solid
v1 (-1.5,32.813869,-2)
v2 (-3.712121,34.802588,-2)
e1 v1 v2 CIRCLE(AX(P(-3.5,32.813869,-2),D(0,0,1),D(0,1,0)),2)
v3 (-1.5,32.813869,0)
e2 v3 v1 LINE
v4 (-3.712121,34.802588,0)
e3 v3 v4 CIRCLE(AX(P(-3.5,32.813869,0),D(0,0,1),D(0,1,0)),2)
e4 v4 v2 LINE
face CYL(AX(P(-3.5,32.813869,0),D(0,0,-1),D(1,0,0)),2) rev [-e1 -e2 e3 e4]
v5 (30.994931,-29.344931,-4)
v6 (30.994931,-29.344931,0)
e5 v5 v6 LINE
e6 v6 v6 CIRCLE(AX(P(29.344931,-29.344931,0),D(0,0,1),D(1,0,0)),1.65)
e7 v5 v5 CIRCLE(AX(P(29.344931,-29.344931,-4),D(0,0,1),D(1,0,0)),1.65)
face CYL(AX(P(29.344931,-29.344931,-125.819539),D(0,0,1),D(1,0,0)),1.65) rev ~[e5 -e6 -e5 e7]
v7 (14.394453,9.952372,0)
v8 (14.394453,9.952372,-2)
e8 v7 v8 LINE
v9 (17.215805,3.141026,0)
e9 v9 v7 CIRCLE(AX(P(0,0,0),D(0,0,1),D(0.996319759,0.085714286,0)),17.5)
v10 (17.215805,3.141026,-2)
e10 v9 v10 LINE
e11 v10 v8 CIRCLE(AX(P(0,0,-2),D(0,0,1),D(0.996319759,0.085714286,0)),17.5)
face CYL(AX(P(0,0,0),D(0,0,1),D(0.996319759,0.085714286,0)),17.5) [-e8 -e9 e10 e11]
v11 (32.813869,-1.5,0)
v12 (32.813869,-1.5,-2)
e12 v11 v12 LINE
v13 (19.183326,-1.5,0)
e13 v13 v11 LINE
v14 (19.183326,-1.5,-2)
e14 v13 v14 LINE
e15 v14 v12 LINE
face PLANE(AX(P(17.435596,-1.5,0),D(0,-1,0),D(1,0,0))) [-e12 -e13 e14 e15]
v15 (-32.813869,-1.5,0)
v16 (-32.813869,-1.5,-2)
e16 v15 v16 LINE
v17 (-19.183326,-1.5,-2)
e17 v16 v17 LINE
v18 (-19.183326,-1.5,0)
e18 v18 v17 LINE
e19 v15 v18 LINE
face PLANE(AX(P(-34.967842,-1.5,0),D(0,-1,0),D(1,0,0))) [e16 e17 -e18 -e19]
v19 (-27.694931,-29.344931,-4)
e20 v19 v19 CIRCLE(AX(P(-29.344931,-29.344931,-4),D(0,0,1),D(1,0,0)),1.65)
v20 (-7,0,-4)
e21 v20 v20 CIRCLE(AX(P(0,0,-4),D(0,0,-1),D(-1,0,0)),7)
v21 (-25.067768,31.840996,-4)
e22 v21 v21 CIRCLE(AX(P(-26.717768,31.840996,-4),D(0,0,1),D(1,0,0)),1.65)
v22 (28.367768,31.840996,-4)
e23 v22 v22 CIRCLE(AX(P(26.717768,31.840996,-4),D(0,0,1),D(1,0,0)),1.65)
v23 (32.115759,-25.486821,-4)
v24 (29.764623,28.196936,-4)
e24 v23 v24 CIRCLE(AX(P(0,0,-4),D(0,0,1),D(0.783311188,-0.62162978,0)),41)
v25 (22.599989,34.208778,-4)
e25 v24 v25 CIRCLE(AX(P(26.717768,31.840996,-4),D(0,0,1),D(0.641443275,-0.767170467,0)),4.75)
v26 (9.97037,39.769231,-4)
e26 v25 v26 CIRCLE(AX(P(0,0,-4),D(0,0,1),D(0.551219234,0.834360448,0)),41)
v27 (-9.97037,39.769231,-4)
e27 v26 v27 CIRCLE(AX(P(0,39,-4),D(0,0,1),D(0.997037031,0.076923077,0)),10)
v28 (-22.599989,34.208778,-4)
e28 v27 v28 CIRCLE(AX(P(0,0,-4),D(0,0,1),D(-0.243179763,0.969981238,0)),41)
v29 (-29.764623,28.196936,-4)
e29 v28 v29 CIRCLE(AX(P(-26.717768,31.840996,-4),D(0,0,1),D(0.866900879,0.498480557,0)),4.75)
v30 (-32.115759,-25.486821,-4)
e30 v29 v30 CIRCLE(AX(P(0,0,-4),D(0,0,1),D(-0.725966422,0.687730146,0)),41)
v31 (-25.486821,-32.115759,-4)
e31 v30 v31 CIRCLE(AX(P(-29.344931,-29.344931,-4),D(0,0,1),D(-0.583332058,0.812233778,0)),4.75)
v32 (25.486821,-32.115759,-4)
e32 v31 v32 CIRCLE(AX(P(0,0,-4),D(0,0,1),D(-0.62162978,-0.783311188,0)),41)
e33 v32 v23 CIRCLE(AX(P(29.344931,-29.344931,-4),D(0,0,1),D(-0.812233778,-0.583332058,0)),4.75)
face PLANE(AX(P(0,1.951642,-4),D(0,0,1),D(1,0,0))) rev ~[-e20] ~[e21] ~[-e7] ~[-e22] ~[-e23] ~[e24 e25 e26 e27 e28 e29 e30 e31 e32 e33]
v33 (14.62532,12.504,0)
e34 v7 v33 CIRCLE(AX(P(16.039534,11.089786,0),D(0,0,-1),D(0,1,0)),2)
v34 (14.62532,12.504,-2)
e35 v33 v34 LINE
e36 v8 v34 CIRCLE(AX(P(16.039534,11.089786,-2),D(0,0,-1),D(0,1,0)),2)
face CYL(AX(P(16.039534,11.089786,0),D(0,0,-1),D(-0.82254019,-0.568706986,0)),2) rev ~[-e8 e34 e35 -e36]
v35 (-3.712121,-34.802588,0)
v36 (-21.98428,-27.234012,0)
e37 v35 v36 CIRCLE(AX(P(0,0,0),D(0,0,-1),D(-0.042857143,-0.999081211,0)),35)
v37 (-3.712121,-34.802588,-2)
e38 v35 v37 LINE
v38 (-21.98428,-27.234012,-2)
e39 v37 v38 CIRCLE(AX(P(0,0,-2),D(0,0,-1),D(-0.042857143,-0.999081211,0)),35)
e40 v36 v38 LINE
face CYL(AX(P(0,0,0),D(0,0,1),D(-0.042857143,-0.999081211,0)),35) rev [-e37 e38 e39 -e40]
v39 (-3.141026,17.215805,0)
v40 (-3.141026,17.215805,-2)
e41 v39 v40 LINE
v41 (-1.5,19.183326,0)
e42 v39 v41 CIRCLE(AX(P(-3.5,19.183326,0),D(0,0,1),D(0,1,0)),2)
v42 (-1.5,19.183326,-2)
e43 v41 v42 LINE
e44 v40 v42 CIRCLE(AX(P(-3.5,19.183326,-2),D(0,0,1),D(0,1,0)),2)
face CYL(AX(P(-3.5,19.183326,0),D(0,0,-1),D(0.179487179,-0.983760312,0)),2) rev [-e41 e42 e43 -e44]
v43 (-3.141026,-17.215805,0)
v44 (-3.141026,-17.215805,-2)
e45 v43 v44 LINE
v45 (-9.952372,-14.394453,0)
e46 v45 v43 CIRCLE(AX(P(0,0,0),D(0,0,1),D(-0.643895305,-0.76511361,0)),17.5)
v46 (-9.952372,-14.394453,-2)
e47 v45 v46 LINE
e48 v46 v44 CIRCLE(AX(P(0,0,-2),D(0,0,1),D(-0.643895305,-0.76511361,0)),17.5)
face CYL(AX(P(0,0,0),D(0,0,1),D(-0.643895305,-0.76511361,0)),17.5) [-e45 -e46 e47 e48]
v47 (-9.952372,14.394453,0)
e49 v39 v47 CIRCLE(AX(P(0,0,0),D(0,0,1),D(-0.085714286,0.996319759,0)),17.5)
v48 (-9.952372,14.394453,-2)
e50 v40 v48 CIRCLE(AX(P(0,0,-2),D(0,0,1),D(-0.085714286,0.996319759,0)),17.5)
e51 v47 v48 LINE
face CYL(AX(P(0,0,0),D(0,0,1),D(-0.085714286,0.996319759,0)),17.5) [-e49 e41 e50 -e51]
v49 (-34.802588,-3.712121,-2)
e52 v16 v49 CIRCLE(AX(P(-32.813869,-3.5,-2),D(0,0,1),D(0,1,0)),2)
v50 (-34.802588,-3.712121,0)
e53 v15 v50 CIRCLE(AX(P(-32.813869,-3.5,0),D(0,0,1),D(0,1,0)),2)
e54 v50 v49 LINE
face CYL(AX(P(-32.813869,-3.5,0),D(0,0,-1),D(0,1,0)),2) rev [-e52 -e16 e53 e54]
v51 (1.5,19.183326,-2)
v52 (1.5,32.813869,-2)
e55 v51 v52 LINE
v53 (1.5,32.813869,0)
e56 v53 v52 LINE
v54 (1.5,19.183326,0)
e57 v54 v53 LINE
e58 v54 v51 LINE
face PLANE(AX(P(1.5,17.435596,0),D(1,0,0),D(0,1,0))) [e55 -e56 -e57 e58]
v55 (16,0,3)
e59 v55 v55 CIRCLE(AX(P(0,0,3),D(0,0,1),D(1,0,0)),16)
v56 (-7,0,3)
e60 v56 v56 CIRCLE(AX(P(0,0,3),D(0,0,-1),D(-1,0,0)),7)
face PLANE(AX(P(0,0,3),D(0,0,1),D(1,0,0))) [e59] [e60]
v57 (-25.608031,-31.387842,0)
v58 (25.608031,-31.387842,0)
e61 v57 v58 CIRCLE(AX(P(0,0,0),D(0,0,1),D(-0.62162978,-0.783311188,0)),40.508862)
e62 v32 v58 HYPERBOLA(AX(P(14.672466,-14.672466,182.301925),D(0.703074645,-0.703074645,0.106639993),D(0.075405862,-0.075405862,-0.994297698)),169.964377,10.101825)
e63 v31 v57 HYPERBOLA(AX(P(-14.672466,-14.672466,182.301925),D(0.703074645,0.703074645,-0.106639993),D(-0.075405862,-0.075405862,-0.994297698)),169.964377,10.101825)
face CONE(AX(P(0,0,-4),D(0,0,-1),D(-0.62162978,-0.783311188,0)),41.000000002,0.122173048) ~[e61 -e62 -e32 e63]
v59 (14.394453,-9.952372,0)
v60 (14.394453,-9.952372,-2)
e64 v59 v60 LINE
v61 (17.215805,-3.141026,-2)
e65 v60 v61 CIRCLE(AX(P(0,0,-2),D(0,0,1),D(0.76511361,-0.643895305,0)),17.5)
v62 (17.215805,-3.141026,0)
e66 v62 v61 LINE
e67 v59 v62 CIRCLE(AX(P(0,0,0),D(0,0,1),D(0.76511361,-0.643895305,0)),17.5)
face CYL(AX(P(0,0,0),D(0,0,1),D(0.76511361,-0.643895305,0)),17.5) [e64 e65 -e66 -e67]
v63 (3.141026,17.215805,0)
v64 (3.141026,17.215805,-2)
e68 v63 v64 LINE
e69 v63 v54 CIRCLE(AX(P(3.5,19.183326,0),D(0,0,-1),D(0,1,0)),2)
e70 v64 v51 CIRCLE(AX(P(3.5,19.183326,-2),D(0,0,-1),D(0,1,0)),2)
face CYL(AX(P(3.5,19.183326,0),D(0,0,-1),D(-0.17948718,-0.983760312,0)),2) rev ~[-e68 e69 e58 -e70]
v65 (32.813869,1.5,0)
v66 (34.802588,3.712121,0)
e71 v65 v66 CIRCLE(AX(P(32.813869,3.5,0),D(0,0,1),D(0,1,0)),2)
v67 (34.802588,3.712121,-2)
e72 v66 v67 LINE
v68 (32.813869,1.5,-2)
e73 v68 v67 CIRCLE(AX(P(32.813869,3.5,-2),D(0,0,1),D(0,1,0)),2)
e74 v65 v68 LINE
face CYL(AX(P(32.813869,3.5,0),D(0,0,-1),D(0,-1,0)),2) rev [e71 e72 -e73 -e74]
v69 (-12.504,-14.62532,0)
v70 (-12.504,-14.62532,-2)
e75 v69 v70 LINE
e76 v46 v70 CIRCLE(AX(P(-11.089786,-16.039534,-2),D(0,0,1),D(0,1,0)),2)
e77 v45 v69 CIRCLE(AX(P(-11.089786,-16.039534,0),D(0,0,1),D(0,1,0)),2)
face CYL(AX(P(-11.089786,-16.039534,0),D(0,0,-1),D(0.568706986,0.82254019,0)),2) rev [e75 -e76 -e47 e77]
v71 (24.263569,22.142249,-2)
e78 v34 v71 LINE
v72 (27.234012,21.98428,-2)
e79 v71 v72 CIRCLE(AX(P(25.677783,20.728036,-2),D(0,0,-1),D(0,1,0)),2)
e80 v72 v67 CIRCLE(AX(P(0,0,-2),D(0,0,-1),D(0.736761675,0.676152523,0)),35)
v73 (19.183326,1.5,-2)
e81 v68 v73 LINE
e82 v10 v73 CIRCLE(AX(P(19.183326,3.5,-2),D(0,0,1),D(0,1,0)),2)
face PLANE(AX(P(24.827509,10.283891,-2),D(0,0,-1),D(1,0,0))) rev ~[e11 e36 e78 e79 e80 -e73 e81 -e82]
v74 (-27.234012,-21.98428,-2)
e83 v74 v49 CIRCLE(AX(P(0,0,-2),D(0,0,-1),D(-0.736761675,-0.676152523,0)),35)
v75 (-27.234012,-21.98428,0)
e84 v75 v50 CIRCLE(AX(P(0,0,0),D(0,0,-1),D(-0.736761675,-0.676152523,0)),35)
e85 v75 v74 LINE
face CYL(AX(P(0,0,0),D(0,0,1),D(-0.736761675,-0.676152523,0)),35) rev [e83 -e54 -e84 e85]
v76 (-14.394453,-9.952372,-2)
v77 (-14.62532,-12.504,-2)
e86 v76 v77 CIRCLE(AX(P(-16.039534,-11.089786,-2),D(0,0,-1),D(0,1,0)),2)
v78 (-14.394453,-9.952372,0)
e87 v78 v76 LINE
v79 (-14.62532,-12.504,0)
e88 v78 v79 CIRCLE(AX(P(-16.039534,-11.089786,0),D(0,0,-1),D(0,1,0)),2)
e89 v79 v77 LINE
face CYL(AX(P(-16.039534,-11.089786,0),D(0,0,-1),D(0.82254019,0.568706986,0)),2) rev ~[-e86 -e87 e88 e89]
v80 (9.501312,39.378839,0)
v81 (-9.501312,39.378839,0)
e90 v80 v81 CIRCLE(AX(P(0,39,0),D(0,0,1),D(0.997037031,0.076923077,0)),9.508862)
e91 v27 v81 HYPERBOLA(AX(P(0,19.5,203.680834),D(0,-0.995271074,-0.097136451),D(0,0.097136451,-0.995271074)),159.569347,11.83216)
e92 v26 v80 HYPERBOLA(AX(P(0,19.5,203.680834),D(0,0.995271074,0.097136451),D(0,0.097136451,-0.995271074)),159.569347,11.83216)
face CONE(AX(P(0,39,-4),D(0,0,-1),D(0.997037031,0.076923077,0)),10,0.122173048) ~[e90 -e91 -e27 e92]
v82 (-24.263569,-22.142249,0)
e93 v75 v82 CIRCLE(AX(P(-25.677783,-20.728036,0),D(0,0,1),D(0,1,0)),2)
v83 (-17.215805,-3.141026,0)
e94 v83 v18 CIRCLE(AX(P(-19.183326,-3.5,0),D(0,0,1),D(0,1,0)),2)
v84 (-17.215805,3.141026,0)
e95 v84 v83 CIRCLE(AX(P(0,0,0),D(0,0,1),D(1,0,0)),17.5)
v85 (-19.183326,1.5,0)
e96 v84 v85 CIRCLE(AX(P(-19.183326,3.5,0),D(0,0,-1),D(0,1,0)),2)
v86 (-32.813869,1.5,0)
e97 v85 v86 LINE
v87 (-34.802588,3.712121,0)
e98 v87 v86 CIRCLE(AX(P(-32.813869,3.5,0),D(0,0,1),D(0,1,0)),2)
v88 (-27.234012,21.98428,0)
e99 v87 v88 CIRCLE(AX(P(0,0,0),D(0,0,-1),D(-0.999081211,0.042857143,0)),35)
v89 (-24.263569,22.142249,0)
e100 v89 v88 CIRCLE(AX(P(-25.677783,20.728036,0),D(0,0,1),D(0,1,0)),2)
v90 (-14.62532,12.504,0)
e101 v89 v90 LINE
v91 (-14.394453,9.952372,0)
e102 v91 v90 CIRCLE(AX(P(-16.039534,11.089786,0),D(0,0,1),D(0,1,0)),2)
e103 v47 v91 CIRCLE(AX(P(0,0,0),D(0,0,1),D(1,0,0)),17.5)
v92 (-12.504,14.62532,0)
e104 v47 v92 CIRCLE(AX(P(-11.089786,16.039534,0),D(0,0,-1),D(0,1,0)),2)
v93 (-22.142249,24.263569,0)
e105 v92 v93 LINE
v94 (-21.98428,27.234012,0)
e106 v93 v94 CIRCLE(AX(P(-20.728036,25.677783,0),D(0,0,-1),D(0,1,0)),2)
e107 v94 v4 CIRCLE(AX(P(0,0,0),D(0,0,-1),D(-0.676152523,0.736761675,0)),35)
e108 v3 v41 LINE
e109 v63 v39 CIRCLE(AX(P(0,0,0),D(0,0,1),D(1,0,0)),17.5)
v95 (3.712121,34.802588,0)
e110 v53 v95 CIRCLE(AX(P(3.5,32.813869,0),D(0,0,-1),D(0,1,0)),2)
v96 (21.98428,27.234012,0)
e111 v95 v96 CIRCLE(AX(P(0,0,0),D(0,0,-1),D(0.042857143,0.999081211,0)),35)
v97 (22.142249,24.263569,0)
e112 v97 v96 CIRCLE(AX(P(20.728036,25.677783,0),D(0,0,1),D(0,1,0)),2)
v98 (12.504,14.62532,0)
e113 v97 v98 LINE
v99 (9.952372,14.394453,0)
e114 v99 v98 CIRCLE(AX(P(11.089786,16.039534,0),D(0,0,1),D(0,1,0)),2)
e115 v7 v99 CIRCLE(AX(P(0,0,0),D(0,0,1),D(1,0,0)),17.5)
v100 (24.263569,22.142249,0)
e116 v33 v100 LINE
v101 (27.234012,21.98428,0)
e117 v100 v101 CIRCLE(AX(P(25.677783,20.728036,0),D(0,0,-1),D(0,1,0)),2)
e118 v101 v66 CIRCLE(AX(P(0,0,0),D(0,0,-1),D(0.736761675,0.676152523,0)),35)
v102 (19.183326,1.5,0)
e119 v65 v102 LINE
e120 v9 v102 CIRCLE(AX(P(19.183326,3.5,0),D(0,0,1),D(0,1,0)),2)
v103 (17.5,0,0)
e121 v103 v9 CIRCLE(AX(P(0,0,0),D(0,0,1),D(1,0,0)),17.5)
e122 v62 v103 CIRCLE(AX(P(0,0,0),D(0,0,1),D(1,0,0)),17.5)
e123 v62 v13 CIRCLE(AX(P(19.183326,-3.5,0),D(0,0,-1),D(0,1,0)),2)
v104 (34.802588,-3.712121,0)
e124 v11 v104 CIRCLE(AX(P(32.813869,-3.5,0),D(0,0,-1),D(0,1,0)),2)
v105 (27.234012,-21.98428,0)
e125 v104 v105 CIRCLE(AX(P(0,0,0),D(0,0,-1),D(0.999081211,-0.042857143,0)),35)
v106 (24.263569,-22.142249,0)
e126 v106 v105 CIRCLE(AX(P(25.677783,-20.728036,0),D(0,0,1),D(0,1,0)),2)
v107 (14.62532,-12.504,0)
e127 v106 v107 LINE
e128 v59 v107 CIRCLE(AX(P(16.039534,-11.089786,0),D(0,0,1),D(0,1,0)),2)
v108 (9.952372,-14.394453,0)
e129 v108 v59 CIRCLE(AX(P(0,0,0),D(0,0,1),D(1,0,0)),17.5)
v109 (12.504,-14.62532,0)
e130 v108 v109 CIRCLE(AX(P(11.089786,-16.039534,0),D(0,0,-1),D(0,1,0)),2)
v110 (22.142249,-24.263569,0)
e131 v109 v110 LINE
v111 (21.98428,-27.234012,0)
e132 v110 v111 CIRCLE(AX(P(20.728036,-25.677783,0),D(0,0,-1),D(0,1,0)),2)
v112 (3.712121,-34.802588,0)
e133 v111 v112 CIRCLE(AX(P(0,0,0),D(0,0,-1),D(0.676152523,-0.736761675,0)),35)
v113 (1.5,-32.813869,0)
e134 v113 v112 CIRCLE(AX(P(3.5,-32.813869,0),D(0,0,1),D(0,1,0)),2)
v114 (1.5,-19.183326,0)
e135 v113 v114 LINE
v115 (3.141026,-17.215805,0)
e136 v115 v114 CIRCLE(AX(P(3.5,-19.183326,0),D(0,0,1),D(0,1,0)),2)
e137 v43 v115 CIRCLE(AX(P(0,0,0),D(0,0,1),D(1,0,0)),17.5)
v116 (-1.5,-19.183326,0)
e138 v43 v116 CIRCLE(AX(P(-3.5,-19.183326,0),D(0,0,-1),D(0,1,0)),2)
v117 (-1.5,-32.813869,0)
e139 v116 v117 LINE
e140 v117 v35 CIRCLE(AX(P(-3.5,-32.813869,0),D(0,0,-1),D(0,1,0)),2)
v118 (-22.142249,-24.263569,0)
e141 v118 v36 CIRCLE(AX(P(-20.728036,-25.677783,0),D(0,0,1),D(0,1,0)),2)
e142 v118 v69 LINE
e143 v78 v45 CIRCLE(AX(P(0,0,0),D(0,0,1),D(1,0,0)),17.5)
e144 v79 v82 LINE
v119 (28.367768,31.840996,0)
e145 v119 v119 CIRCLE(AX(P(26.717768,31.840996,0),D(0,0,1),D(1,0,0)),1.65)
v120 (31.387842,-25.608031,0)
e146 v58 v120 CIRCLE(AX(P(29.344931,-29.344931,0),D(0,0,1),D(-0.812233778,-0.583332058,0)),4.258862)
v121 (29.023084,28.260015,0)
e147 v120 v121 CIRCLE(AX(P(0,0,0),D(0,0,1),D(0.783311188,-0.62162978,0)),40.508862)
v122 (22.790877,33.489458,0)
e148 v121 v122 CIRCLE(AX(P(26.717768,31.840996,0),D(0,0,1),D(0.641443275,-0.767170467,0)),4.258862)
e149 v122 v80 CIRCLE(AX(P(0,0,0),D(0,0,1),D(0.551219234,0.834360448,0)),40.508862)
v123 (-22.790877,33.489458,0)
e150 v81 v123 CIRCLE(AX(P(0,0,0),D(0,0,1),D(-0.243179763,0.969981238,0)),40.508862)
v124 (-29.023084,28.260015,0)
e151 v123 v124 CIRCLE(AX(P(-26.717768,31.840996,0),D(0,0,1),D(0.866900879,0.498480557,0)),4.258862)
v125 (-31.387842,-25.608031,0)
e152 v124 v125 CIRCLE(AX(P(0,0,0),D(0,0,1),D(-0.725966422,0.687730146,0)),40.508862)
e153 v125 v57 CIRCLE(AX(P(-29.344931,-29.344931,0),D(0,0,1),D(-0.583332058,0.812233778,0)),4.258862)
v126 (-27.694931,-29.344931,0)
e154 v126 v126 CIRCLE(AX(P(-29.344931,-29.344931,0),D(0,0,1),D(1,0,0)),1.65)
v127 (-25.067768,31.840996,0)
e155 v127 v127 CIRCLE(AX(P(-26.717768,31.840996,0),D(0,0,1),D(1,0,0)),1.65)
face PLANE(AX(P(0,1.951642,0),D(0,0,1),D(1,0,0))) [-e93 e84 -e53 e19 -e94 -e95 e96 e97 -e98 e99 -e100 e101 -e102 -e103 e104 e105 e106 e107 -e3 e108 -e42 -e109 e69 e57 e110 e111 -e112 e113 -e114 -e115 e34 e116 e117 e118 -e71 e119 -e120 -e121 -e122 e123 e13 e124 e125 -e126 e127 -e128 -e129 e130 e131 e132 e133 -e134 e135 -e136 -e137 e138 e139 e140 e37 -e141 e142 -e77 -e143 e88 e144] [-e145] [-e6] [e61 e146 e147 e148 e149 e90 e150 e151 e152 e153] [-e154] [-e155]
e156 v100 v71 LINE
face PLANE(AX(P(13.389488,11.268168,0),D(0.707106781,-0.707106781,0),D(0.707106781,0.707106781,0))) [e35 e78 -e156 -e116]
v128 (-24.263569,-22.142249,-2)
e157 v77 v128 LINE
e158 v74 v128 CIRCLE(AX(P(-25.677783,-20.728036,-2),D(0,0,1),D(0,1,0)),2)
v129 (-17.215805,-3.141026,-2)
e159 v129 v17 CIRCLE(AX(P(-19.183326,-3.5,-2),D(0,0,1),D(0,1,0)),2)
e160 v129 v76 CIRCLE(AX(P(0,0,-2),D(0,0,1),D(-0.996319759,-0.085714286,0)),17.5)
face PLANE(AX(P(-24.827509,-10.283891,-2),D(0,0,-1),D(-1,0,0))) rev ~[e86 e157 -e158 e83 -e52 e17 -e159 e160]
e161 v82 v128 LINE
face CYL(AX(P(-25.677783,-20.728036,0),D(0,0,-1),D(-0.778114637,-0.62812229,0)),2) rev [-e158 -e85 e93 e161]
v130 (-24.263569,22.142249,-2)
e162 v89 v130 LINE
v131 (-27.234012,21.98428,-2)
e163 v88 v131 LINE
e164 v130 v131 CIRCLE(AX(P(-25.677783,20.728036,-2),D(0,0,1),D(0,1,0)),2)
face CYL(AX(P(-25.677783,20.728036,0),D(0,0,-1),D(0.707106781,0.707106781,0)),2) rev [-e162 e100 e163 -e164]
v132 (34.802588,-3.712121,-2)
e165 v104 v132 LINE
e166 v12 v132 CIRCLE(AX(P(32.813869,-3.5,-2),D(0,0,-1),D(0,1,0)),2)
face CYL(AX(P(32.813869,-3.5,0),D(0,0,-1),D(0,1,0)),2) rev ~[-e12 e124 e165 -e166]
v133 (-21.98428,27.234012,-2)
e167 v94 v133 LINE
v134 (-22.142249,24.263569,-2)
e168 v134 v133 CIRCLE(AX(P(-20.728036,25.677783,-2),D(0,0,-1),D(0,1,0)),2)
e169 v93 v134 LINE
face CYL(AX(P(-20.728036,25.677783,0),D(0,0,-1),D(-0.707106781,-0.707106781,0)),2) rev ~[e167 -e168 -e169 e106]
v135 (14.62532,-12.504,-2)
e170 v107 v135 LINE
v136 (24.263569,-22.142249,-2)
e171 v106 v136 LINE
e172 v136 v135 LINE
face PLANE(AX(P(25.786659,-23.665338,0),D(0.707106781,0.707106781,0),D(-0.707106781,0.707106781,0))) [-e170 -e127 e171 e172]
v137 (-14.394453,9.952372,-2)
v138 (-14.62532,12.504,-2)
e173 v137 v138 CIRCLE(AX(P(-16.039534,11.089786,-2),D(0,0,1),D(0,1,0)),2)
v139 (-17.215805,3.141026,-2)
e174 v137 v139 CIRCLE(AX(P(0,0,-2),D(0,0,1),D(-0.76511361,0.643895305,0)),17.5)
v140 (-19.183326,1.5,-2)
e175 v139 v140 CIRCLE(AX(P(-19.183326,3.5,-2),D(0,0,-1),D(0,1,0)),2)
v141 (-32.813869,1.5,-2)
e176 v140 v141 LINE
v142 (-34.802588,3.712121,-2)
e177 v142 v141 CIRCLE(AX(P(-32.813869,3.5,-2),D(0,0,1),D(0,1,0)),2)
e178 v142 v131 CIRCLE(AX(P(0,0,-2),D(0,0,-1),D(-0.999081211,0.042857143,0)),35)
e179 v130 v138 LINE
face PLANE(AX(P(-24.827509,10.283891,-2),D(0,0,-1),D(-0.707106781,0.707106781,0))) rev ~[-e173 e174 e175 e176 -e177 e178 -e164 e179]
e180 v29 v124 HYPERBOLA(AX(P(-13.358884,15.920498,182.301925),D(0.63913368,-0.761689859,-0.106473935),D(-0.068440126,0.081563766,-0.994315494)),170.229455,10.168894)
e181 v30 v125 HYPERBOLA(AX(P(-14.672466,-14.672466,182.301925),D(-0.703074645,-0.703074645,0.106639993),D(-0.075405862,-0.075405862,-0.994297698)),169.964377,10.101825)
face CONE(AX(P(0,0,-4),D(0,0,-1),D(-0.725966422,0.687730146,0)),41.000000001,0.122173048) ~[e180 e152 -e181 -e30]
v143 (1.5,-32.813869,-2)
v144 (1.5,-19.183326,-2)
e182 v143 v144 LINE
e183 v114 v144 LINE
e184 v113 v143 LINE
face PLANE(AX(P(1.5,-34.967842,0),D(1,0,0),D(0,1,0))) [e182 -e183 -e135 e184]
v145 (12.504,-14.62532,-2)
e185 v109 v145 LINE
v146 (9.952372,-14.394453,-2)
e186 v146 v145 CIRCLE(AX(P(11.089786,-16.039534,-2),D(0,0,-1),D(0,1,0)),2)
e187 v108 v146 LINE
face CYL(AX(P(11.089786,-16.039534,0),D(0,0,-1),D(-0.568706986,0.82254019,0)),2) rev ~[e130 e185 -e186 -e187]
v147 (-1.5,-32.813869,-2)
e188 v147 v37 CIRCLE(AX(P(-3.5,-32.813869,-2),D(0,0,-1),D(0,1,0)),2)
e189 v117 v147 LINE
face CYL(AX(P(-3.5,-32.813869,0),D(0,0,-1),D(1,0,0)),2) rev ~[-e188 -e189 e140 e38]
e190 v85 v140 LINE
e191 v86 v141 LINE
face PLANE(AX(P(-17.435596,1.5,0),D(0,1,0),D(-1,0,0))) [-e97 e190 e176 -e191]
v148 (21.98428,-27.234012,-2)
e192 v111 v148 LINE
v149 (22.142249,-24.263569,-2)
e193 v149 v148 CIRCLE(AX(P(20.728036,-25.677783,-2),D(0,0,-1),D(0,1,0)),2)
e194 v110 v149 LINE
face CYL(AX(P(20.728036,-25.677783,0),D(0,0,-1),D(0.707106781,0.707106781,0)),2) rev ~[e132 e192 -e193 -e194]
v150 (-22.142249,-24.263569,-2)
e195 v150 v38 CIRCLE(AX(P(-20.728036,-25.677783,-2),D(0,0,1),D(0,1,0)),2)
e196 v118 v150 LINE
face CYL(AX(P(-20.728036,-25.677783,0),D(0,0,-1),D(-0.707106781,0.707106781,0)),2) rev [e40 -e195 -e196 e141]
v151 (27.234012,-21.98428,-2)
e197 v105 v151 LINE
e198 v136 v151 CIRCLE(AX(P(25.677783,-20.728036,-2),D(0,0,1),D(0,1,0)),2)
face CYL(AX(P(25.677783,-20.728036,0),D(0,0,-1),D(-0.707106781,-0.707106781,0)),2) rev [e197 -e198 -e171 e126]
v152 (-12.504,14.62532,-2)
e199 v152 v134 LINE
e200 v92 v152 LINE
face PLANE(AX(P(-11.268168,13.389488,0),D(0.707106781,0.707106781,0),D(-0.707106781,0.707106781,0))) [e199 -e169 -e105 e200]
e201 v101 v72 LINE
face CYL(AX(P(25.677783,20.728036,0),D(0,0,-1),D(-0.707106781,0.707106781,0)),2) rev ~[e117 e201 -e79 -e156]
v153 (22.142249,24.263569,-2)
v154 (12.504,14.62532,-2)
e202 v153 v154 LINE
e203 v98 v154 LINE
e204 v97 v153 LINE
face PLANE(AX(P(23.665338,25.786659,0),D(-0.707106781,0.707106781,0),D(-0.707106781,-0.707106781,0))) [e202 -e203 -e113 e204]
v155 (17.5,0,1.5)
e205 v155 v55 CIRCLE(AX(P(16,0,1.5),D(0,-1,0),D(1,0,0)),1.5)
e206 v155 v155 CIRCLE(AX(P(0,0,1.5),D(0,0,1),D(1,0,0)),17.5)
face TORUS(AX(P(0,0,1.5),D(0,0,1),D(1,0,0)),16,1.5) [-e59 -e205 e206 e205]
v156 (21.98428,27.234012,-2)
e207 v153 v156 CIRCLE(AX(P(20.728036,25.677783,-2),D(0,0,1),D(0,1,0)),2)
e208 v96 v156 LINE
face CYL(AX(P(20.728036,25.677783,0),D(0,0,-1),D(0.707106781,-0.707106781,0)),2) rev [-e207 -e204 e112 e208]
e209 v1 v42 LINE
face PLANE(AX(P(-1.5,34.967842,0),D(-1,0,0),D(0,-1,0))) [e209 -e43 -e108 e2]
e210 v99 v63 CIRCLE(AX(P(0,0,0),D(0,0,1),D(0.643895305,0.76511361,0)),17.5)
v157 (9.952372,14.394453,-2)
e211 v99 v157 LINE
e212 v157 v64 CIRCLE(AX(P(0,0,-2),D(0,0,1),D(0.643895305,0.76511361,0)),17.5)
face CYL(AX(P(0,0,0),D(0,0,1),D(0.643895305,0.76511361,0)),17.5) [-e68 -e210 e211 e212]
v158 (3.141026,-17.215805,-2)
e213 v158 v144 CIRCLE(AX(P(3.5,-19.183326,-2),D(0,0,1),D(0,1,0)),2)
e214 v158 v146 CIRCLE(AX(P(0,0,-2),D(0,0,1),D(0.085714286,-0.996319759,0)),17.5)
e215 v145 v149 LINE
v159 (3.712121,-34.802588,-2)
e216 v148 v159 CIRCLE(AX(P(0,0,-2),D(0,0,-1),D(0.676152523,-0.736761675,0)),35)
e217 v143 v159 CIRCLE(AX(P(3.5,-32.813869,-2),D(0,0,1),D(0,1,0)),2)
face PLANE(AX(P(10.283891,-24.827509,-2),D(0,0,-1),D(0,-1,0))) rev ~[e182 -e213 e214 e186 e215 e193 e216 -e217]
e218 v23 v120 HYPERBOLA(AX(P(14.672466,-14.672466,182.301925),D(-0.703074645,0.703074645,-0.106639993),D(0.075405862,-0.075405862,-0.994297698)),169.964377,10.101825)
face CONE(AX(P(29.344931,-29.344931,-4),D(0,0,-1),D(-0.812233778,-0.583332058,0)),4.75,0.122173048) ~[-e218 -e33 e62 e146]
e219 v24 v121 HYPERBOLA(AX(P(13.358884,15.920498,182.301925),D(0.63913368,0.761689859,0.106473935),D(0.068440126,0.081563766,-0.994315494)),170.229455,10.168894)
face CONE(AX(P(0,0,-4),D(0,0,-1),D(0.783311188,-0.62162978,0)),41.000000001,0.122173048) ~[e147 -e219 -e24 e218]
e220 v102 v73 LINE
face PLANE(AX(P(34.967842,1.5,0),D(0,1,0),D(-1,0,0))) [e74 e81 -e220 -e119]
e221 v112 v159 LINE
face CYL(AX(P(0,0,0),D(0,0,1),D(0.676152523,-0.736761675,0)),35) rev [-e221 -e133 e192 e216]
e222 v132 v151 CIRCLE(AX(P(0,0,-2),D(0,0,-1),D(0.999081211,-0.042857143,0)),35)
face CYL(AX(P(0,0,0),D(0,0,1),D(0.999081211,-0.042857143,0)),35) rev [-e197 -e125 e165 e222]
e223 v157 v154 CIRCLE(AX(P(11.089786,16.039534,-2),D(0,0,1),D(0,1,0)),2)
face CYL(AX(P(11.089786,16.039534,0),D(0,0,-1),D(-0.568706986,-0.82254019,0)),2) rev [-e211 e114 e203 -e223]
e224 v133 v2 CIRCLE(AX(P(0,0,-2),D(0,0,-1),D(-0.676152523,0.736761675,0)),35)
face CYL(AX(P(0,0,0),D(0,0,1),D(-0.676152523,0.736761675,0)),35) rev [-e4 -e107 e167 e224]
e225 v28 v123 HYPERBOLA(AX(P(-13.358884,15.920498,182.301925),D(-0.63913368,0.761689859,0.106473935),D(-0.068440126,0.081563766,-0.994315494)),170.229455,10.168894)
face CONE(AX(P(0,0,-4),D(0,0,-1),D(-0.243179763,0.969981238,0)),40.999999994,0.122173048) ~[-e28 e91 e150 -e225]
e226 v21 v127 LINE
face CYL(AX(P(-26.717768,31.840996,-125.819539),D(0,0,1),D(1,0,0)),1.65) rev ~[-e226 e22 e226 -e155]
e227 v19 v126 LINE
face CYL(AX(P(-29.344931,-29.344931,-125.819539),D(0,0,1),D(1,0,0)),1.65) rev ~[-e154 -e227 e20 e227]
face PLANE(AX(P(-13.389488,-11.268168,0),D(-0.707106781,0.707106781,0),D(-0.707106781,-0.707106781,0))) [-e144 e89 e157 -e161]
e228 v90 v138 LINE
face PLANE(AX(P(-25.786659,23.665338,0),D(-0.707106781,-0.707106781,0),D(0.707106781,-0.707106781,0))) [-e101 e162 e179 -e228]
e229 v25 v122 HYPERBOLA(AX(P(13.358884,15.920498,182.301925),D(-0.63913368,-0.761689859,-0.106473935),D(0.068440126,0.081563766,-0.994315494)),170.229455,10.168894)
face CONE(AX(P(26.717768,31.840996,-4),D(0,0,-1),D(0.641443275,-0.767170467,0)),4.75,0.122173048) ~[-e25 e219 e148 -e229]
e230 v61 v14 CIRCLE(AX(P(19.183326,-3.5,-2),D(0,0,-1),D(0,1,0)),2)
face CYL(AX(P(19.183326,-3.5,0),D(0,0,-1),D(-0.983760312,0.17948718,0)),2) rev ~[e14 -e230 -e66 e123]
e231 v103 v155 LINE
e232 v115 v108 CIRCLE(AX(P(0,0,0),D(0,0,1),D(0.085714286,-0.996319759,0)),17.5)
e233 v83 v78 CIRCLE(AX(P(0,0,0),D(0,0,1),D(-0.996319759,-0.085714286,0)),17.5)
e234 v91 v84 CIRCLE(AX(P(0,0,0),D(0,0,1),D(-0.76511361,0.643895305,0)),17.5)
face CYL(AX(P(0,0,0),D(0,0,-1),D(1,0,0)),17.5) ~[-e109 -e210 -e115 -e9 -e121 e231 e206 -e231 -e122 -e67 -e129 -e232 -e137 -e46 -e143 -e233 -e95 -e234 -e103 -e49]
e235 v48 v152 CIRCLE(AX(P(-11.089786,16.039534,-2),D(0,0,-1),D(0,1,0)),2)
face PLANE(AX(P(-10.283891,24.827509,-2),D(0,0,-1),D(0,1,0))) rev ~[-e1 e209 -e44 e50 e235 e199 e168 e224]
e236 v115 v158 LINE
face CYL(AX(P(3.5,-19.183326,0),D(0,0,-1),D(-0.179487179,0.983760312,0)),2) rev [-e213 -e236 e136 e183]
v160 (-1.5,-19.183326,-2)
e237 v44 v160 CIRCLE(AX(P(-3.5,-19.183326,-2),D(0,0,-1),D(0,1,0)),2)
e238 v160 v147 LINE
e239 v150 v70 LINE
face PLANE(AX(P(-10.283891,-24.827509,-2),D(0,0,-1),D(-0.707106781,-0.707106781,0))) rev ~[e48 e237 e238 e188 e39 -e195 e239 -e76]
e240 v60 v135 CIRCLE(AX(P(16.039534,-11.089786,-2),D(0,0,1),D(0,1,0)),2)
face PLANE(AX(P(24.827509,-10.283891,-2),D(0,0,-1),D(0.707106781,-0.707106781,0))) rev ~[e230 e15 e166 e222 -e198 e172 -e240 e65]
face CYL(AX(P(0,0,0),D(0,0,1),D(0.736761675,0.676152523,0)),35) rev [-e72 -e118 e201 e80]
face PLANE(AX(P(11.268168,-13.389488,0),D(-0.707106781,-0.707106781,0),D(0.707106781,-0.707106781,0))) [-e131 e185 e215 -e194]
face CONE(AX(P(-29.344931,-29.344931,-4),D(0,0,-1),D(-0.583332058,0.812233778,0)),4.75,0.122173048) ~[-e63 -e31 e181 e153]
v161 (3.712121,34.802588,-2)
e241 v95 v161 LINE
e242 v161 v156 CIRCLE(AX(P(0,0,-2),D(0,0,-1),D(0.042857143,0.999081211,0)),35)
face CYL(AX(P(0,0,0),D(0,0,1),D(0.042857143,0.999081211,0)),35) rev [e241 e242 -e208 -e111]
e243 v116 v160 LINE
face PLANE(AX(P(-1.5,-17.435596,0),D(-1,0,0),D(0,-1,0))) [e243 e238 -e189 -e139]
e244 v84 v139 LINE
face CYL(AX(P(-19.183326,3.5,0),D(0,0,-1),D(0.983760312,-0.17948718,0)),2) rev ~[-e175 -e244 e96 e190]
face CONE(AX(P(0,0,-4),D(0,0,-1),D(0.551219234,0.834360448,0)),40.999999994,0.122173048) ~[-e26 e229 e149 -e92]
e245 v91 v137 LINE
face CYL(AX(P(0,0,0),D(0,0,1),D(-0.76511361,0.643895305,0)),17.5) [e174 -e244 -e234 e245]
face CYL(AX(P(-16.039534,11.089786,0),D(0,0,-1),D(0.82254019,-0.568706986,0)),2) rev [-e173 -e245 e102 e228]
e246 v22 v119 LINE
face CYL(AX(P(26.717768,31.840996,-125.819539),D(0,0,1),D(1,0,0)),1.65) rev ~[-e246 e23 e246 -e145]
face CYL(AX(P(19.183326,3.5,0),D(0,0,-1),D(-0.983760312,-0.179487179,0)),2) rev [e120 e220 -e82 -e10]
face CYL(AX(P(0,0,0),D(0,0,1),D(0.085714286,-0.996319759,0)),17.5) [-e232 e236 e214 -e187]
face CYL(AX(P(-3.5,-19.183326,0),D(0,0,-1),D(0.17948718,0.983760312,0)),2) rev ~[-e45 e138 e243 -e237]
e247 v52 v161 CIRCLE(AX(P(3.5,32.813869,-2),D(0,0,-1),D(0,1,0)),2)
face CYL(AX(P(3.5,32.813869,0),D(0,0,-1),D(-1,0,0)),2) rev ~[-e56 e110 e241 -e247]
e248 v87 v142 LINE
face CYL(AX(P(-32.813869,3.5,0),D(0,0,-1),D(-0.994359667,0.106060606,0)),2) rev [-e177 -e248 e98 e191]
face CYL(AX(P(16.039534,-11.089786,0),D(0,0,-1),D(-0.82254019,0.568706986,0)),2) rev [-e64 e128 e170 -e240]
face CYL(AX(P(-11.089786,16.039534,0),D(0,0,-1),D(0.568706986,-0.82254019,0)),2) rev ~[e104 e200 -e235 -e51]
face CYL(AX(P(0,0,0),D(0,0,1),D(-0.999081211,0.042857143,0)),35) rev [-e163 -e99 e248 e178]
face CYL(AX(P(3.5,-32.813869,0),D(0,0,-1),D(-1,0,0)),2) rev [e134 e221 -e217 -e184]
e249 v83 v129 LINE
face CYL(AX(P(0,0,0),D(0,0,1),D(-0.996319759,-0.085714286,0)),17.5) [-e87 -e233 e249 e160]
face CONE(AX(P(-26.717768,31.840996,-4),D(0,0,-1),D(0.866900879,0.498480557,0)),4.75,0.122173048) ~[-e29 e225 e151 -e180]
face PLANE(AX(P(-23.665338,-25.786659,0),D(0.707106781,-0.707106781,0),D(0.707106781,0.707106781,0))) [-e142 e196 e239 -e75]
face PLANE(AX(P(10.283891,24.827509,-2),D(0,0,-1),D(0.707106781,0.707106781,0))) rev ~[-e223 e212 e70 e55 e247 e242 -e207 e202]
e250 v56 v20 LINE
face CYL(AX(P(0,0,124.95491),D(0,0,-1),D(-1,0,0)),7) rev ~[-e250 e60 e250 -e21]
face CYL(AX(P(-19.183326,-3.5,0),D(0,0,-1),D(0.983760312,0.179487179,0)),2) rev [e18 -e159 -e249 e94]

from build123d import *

# Parameters (mm, degrees)
BOSS_EXTRUDE1_START        = -4
BOSS_EXTRUDE1_DEPTH        = 4
BOSS_EXTRUDE1_DRAFT        = 7
CUT_EXTRUDE1_DEPTH         = 2
FILLET1_R                  = 2
CIRPATTERN1_COUNT          = 8
FILLET1_OF_CIRPATTERN1_R   = 2
M4X0_7_TAPPED_HOLE1_D      = 3.3
SKETCH9_R                  = 17.5
BOSS_EXTRUDE2_DEPTH        = 3
FILLET2_R                  = 1.5
F_14_0_14_DIAMETER_HOLE1_D = 14


with BuildPart() as part:
    # Sketch2 → Boss-Extrude1 (with draft: the straight prism first)
    with BuildSketch(Plane.XY.offset(BOSS_EXTRUDE1_START)):
        with BuildLine():
            ThreePointArc((-22.599988577, 34.208778352), (-29.7710089, 35.479706812), (-29.76462331, 28.19693599))
            ThreePointArc((-29.76462331, 28.19693599), (-40.960735586, 1.79391757), (-32.115758696, -25.486820975))
            ThreePointArc((-32.115758696, -25.486820975), (-32.70368863, -32.70368863), (-25.486820975, -32.115758696))
            ThreePointArc((-25.486820975, -32.115758696), (0, -41), (25.486820975, -32.115758696))
            ThreePointArc((25.486820975, -32.115758696), (32.70368863, -32.70368863), (32.115758696, -25.486820975))
            ThreePointArc((32.115758696, -25.486820975), (40.960735586, 1.79391757), (29.76462331, 28.19693599))
            ThreePointArc((29.76462331, 28.19693599), (29.7710089, 35.479706812), (22.599988577, 34.208778352))
            ThreePointArc((22.599988577, 34.208778352), (16.520796809, 37.524169182), (9.970370305, 39.769230769))
            ThreePointArc((9.970370305, 39.769230769), (0, 49), (-9.970370305, 39.769230769))
            ThreePointArc((-9.970370305, 39.769230769), (-16.520796809, 37.524169182), (-22.599988577, 34.208778352))
        make_face()
    extrude(amount=BOSS_EXTRUDE1_DEPTH)
    # Boss-Extrude1: the draft: its side faces are tilted about the plane it starts from
    boss_extrude1_sides = [part.faces().sort_by_distance(p)[0] for p in [
        (-16.520796809, 37.524169182, -2),
        (-29.7710089, 35.479706812, -2),
        (-40.960735586, 1.79391757, -2),
        (-32.70368863, -32.70368863, -2),
        (0, -41, -2),
        (32.70368863, -32.70368863, -2),
        (40.960735586, 1.79391757, -2),
        (29.7710089, 35.479706812, -2),
        (16.520796809, 37.524169182, -2),
        (0, 49, -2),
    ]]
    draft(boss_extrude1_sides, Plane.XY.offset(BOSS_EXTRUDE1_START), BOSS_EXTRUDE1_DRAFT)

    # Sketch4 → Cut-Extrude1 (cut)
    with BuildSketch(Plane.XY):
        with BuildLine():
            Line((-13.389488178, -11.268167834), (-25.786658635, -23.665338291))
            ThreePointArc((-25.786658635, -23.665338291), (-32.335783638, -13.393920133), (-34.96784237, -1.5))
            Line((-34.96784237, -1.5), (-17.435595774, -1.5))
            ThreePointArc((-17.435595774, -1.5), (-16.167891819, -6.696960066), (-13.389488178, -11.268167834))
        make_face()
    cut_extrude1 = extrude(amount=-CUT_EXTRUDE1_DEPTH, mode=Mode.SUBTRACT)

    # Fillet1
    fillet1_edges = [part.edges().sort_by_distance(p)[0] for p in [
        (-17.435595774, -1.5, -1),
        (-13.389488178, -11.268167834, -1),
        (-25.786658635, -23.665338291, -1),
        (-34.96784237, -1.5, -1),
    ]]
    fillet(fillet1_edges, radius=FILLET1_R)

    # CirPattern1: Cut-Extrude1 ×8 about axis
    cirpattern1_axis = Axis((0, 0, 0), (0, 0, 1))
    for i in range(1, CIRPATTERN1_COUNT):
        add(cut_extrude1.rotate(cirpattern1_axis, i * 360 / CIRPATTERN1_COUNT), mode=Mode.SUBTRACT)

    # Fillet1 of CirPattern1
    fillet1_of_cirpattern1_edges = [part.edges().sort_by_distance(p)[0] for p in [
        (-11.268167834, -13.389488178, -1),
        (-1.5, -17.435595774, -1),
        (-1.5, -34.96784237, -1),
        (-23.665338291, -25.786658635, -1),
        (1.5, -17.435595774, -1),
        (11.268167834, -13.389488178, -1),
        (23.665338291, -25.786658635, -1),
        (1.5, -34.96784237, -1),
        (13.389488178, -11.268167834, -1),
        (17.435595774, -1.5, -1),
        (34.96784237, -1.5, -1),
        (25.786658635, -23.665338291, -1),
        (17.435595774, 1.5, -1),
        (13.389488178, 11.268167834, -1),
        (25.786658635, 23.665338291, -1),
        (34.96784237, 1.5, -1),
        (11.268167834, 13.389488178, -1),
        (1.5, 17.435595774, -1),
        (1.5, 34.96784237, -1),
        (23.665338291, 25.786658635, -1),
        (-1.5, 17.435595774, -1),
        (-11.268167834, 13.389488178, -1),
        (-23.665338291, 25.786658635, -1),
        (-1.5, 34.96784237, -1),
        (-13.389488178, 11.268167834, -1),
        (-17.435595774, 1.5, -1),
        (-34.96784237, 1.5, -1),
        (-25.786658635, 23.665338291, -1),
    ]]
    fillet(fillet1_of_cirpattern1_edges, radius=FILLET1_OF_CIRPATTERN1_R)

    # M4x0.7 Tapped Hole1 (through all)
    with Locations(Plane(origin=(0, 0, -4), x_dir=(-1, 0, 0), z_dir=(0, 0, -1))):
        with Locations((26.717767754, 31.840995707), (29.344931419, -29.344931419), (-29.344931419, -29.344931419), (-26.717767754, 31.840995707)):
            Hole(M4X0_7_TAPPED_HOLE1_D / 2)

    # Sketch9 → Boss-Extrude2 (add)
    with BuildSketch(Plane.XY):
        Circle(SKETCH9_R)
    extrude(amount=BOSS_EXTRUDE2_DEPTH)

    # Fillet2
    fillet2_edges = [part.edges().sort_by_distance(p)[0] for p in [
        (-17.5, 0, 3),
    ]]
    fillet(fillet2_edges, radius=FILLET2_R)

    # Ø14.0 (14) Diameter Hole1 (through all)
    with Locations(Plane.XY.offset(3)):
        with Locations((0, 0)):
            Hole(F_14_0_14_DIAMETER_HOLE1_D / 2)


solid = part.part
